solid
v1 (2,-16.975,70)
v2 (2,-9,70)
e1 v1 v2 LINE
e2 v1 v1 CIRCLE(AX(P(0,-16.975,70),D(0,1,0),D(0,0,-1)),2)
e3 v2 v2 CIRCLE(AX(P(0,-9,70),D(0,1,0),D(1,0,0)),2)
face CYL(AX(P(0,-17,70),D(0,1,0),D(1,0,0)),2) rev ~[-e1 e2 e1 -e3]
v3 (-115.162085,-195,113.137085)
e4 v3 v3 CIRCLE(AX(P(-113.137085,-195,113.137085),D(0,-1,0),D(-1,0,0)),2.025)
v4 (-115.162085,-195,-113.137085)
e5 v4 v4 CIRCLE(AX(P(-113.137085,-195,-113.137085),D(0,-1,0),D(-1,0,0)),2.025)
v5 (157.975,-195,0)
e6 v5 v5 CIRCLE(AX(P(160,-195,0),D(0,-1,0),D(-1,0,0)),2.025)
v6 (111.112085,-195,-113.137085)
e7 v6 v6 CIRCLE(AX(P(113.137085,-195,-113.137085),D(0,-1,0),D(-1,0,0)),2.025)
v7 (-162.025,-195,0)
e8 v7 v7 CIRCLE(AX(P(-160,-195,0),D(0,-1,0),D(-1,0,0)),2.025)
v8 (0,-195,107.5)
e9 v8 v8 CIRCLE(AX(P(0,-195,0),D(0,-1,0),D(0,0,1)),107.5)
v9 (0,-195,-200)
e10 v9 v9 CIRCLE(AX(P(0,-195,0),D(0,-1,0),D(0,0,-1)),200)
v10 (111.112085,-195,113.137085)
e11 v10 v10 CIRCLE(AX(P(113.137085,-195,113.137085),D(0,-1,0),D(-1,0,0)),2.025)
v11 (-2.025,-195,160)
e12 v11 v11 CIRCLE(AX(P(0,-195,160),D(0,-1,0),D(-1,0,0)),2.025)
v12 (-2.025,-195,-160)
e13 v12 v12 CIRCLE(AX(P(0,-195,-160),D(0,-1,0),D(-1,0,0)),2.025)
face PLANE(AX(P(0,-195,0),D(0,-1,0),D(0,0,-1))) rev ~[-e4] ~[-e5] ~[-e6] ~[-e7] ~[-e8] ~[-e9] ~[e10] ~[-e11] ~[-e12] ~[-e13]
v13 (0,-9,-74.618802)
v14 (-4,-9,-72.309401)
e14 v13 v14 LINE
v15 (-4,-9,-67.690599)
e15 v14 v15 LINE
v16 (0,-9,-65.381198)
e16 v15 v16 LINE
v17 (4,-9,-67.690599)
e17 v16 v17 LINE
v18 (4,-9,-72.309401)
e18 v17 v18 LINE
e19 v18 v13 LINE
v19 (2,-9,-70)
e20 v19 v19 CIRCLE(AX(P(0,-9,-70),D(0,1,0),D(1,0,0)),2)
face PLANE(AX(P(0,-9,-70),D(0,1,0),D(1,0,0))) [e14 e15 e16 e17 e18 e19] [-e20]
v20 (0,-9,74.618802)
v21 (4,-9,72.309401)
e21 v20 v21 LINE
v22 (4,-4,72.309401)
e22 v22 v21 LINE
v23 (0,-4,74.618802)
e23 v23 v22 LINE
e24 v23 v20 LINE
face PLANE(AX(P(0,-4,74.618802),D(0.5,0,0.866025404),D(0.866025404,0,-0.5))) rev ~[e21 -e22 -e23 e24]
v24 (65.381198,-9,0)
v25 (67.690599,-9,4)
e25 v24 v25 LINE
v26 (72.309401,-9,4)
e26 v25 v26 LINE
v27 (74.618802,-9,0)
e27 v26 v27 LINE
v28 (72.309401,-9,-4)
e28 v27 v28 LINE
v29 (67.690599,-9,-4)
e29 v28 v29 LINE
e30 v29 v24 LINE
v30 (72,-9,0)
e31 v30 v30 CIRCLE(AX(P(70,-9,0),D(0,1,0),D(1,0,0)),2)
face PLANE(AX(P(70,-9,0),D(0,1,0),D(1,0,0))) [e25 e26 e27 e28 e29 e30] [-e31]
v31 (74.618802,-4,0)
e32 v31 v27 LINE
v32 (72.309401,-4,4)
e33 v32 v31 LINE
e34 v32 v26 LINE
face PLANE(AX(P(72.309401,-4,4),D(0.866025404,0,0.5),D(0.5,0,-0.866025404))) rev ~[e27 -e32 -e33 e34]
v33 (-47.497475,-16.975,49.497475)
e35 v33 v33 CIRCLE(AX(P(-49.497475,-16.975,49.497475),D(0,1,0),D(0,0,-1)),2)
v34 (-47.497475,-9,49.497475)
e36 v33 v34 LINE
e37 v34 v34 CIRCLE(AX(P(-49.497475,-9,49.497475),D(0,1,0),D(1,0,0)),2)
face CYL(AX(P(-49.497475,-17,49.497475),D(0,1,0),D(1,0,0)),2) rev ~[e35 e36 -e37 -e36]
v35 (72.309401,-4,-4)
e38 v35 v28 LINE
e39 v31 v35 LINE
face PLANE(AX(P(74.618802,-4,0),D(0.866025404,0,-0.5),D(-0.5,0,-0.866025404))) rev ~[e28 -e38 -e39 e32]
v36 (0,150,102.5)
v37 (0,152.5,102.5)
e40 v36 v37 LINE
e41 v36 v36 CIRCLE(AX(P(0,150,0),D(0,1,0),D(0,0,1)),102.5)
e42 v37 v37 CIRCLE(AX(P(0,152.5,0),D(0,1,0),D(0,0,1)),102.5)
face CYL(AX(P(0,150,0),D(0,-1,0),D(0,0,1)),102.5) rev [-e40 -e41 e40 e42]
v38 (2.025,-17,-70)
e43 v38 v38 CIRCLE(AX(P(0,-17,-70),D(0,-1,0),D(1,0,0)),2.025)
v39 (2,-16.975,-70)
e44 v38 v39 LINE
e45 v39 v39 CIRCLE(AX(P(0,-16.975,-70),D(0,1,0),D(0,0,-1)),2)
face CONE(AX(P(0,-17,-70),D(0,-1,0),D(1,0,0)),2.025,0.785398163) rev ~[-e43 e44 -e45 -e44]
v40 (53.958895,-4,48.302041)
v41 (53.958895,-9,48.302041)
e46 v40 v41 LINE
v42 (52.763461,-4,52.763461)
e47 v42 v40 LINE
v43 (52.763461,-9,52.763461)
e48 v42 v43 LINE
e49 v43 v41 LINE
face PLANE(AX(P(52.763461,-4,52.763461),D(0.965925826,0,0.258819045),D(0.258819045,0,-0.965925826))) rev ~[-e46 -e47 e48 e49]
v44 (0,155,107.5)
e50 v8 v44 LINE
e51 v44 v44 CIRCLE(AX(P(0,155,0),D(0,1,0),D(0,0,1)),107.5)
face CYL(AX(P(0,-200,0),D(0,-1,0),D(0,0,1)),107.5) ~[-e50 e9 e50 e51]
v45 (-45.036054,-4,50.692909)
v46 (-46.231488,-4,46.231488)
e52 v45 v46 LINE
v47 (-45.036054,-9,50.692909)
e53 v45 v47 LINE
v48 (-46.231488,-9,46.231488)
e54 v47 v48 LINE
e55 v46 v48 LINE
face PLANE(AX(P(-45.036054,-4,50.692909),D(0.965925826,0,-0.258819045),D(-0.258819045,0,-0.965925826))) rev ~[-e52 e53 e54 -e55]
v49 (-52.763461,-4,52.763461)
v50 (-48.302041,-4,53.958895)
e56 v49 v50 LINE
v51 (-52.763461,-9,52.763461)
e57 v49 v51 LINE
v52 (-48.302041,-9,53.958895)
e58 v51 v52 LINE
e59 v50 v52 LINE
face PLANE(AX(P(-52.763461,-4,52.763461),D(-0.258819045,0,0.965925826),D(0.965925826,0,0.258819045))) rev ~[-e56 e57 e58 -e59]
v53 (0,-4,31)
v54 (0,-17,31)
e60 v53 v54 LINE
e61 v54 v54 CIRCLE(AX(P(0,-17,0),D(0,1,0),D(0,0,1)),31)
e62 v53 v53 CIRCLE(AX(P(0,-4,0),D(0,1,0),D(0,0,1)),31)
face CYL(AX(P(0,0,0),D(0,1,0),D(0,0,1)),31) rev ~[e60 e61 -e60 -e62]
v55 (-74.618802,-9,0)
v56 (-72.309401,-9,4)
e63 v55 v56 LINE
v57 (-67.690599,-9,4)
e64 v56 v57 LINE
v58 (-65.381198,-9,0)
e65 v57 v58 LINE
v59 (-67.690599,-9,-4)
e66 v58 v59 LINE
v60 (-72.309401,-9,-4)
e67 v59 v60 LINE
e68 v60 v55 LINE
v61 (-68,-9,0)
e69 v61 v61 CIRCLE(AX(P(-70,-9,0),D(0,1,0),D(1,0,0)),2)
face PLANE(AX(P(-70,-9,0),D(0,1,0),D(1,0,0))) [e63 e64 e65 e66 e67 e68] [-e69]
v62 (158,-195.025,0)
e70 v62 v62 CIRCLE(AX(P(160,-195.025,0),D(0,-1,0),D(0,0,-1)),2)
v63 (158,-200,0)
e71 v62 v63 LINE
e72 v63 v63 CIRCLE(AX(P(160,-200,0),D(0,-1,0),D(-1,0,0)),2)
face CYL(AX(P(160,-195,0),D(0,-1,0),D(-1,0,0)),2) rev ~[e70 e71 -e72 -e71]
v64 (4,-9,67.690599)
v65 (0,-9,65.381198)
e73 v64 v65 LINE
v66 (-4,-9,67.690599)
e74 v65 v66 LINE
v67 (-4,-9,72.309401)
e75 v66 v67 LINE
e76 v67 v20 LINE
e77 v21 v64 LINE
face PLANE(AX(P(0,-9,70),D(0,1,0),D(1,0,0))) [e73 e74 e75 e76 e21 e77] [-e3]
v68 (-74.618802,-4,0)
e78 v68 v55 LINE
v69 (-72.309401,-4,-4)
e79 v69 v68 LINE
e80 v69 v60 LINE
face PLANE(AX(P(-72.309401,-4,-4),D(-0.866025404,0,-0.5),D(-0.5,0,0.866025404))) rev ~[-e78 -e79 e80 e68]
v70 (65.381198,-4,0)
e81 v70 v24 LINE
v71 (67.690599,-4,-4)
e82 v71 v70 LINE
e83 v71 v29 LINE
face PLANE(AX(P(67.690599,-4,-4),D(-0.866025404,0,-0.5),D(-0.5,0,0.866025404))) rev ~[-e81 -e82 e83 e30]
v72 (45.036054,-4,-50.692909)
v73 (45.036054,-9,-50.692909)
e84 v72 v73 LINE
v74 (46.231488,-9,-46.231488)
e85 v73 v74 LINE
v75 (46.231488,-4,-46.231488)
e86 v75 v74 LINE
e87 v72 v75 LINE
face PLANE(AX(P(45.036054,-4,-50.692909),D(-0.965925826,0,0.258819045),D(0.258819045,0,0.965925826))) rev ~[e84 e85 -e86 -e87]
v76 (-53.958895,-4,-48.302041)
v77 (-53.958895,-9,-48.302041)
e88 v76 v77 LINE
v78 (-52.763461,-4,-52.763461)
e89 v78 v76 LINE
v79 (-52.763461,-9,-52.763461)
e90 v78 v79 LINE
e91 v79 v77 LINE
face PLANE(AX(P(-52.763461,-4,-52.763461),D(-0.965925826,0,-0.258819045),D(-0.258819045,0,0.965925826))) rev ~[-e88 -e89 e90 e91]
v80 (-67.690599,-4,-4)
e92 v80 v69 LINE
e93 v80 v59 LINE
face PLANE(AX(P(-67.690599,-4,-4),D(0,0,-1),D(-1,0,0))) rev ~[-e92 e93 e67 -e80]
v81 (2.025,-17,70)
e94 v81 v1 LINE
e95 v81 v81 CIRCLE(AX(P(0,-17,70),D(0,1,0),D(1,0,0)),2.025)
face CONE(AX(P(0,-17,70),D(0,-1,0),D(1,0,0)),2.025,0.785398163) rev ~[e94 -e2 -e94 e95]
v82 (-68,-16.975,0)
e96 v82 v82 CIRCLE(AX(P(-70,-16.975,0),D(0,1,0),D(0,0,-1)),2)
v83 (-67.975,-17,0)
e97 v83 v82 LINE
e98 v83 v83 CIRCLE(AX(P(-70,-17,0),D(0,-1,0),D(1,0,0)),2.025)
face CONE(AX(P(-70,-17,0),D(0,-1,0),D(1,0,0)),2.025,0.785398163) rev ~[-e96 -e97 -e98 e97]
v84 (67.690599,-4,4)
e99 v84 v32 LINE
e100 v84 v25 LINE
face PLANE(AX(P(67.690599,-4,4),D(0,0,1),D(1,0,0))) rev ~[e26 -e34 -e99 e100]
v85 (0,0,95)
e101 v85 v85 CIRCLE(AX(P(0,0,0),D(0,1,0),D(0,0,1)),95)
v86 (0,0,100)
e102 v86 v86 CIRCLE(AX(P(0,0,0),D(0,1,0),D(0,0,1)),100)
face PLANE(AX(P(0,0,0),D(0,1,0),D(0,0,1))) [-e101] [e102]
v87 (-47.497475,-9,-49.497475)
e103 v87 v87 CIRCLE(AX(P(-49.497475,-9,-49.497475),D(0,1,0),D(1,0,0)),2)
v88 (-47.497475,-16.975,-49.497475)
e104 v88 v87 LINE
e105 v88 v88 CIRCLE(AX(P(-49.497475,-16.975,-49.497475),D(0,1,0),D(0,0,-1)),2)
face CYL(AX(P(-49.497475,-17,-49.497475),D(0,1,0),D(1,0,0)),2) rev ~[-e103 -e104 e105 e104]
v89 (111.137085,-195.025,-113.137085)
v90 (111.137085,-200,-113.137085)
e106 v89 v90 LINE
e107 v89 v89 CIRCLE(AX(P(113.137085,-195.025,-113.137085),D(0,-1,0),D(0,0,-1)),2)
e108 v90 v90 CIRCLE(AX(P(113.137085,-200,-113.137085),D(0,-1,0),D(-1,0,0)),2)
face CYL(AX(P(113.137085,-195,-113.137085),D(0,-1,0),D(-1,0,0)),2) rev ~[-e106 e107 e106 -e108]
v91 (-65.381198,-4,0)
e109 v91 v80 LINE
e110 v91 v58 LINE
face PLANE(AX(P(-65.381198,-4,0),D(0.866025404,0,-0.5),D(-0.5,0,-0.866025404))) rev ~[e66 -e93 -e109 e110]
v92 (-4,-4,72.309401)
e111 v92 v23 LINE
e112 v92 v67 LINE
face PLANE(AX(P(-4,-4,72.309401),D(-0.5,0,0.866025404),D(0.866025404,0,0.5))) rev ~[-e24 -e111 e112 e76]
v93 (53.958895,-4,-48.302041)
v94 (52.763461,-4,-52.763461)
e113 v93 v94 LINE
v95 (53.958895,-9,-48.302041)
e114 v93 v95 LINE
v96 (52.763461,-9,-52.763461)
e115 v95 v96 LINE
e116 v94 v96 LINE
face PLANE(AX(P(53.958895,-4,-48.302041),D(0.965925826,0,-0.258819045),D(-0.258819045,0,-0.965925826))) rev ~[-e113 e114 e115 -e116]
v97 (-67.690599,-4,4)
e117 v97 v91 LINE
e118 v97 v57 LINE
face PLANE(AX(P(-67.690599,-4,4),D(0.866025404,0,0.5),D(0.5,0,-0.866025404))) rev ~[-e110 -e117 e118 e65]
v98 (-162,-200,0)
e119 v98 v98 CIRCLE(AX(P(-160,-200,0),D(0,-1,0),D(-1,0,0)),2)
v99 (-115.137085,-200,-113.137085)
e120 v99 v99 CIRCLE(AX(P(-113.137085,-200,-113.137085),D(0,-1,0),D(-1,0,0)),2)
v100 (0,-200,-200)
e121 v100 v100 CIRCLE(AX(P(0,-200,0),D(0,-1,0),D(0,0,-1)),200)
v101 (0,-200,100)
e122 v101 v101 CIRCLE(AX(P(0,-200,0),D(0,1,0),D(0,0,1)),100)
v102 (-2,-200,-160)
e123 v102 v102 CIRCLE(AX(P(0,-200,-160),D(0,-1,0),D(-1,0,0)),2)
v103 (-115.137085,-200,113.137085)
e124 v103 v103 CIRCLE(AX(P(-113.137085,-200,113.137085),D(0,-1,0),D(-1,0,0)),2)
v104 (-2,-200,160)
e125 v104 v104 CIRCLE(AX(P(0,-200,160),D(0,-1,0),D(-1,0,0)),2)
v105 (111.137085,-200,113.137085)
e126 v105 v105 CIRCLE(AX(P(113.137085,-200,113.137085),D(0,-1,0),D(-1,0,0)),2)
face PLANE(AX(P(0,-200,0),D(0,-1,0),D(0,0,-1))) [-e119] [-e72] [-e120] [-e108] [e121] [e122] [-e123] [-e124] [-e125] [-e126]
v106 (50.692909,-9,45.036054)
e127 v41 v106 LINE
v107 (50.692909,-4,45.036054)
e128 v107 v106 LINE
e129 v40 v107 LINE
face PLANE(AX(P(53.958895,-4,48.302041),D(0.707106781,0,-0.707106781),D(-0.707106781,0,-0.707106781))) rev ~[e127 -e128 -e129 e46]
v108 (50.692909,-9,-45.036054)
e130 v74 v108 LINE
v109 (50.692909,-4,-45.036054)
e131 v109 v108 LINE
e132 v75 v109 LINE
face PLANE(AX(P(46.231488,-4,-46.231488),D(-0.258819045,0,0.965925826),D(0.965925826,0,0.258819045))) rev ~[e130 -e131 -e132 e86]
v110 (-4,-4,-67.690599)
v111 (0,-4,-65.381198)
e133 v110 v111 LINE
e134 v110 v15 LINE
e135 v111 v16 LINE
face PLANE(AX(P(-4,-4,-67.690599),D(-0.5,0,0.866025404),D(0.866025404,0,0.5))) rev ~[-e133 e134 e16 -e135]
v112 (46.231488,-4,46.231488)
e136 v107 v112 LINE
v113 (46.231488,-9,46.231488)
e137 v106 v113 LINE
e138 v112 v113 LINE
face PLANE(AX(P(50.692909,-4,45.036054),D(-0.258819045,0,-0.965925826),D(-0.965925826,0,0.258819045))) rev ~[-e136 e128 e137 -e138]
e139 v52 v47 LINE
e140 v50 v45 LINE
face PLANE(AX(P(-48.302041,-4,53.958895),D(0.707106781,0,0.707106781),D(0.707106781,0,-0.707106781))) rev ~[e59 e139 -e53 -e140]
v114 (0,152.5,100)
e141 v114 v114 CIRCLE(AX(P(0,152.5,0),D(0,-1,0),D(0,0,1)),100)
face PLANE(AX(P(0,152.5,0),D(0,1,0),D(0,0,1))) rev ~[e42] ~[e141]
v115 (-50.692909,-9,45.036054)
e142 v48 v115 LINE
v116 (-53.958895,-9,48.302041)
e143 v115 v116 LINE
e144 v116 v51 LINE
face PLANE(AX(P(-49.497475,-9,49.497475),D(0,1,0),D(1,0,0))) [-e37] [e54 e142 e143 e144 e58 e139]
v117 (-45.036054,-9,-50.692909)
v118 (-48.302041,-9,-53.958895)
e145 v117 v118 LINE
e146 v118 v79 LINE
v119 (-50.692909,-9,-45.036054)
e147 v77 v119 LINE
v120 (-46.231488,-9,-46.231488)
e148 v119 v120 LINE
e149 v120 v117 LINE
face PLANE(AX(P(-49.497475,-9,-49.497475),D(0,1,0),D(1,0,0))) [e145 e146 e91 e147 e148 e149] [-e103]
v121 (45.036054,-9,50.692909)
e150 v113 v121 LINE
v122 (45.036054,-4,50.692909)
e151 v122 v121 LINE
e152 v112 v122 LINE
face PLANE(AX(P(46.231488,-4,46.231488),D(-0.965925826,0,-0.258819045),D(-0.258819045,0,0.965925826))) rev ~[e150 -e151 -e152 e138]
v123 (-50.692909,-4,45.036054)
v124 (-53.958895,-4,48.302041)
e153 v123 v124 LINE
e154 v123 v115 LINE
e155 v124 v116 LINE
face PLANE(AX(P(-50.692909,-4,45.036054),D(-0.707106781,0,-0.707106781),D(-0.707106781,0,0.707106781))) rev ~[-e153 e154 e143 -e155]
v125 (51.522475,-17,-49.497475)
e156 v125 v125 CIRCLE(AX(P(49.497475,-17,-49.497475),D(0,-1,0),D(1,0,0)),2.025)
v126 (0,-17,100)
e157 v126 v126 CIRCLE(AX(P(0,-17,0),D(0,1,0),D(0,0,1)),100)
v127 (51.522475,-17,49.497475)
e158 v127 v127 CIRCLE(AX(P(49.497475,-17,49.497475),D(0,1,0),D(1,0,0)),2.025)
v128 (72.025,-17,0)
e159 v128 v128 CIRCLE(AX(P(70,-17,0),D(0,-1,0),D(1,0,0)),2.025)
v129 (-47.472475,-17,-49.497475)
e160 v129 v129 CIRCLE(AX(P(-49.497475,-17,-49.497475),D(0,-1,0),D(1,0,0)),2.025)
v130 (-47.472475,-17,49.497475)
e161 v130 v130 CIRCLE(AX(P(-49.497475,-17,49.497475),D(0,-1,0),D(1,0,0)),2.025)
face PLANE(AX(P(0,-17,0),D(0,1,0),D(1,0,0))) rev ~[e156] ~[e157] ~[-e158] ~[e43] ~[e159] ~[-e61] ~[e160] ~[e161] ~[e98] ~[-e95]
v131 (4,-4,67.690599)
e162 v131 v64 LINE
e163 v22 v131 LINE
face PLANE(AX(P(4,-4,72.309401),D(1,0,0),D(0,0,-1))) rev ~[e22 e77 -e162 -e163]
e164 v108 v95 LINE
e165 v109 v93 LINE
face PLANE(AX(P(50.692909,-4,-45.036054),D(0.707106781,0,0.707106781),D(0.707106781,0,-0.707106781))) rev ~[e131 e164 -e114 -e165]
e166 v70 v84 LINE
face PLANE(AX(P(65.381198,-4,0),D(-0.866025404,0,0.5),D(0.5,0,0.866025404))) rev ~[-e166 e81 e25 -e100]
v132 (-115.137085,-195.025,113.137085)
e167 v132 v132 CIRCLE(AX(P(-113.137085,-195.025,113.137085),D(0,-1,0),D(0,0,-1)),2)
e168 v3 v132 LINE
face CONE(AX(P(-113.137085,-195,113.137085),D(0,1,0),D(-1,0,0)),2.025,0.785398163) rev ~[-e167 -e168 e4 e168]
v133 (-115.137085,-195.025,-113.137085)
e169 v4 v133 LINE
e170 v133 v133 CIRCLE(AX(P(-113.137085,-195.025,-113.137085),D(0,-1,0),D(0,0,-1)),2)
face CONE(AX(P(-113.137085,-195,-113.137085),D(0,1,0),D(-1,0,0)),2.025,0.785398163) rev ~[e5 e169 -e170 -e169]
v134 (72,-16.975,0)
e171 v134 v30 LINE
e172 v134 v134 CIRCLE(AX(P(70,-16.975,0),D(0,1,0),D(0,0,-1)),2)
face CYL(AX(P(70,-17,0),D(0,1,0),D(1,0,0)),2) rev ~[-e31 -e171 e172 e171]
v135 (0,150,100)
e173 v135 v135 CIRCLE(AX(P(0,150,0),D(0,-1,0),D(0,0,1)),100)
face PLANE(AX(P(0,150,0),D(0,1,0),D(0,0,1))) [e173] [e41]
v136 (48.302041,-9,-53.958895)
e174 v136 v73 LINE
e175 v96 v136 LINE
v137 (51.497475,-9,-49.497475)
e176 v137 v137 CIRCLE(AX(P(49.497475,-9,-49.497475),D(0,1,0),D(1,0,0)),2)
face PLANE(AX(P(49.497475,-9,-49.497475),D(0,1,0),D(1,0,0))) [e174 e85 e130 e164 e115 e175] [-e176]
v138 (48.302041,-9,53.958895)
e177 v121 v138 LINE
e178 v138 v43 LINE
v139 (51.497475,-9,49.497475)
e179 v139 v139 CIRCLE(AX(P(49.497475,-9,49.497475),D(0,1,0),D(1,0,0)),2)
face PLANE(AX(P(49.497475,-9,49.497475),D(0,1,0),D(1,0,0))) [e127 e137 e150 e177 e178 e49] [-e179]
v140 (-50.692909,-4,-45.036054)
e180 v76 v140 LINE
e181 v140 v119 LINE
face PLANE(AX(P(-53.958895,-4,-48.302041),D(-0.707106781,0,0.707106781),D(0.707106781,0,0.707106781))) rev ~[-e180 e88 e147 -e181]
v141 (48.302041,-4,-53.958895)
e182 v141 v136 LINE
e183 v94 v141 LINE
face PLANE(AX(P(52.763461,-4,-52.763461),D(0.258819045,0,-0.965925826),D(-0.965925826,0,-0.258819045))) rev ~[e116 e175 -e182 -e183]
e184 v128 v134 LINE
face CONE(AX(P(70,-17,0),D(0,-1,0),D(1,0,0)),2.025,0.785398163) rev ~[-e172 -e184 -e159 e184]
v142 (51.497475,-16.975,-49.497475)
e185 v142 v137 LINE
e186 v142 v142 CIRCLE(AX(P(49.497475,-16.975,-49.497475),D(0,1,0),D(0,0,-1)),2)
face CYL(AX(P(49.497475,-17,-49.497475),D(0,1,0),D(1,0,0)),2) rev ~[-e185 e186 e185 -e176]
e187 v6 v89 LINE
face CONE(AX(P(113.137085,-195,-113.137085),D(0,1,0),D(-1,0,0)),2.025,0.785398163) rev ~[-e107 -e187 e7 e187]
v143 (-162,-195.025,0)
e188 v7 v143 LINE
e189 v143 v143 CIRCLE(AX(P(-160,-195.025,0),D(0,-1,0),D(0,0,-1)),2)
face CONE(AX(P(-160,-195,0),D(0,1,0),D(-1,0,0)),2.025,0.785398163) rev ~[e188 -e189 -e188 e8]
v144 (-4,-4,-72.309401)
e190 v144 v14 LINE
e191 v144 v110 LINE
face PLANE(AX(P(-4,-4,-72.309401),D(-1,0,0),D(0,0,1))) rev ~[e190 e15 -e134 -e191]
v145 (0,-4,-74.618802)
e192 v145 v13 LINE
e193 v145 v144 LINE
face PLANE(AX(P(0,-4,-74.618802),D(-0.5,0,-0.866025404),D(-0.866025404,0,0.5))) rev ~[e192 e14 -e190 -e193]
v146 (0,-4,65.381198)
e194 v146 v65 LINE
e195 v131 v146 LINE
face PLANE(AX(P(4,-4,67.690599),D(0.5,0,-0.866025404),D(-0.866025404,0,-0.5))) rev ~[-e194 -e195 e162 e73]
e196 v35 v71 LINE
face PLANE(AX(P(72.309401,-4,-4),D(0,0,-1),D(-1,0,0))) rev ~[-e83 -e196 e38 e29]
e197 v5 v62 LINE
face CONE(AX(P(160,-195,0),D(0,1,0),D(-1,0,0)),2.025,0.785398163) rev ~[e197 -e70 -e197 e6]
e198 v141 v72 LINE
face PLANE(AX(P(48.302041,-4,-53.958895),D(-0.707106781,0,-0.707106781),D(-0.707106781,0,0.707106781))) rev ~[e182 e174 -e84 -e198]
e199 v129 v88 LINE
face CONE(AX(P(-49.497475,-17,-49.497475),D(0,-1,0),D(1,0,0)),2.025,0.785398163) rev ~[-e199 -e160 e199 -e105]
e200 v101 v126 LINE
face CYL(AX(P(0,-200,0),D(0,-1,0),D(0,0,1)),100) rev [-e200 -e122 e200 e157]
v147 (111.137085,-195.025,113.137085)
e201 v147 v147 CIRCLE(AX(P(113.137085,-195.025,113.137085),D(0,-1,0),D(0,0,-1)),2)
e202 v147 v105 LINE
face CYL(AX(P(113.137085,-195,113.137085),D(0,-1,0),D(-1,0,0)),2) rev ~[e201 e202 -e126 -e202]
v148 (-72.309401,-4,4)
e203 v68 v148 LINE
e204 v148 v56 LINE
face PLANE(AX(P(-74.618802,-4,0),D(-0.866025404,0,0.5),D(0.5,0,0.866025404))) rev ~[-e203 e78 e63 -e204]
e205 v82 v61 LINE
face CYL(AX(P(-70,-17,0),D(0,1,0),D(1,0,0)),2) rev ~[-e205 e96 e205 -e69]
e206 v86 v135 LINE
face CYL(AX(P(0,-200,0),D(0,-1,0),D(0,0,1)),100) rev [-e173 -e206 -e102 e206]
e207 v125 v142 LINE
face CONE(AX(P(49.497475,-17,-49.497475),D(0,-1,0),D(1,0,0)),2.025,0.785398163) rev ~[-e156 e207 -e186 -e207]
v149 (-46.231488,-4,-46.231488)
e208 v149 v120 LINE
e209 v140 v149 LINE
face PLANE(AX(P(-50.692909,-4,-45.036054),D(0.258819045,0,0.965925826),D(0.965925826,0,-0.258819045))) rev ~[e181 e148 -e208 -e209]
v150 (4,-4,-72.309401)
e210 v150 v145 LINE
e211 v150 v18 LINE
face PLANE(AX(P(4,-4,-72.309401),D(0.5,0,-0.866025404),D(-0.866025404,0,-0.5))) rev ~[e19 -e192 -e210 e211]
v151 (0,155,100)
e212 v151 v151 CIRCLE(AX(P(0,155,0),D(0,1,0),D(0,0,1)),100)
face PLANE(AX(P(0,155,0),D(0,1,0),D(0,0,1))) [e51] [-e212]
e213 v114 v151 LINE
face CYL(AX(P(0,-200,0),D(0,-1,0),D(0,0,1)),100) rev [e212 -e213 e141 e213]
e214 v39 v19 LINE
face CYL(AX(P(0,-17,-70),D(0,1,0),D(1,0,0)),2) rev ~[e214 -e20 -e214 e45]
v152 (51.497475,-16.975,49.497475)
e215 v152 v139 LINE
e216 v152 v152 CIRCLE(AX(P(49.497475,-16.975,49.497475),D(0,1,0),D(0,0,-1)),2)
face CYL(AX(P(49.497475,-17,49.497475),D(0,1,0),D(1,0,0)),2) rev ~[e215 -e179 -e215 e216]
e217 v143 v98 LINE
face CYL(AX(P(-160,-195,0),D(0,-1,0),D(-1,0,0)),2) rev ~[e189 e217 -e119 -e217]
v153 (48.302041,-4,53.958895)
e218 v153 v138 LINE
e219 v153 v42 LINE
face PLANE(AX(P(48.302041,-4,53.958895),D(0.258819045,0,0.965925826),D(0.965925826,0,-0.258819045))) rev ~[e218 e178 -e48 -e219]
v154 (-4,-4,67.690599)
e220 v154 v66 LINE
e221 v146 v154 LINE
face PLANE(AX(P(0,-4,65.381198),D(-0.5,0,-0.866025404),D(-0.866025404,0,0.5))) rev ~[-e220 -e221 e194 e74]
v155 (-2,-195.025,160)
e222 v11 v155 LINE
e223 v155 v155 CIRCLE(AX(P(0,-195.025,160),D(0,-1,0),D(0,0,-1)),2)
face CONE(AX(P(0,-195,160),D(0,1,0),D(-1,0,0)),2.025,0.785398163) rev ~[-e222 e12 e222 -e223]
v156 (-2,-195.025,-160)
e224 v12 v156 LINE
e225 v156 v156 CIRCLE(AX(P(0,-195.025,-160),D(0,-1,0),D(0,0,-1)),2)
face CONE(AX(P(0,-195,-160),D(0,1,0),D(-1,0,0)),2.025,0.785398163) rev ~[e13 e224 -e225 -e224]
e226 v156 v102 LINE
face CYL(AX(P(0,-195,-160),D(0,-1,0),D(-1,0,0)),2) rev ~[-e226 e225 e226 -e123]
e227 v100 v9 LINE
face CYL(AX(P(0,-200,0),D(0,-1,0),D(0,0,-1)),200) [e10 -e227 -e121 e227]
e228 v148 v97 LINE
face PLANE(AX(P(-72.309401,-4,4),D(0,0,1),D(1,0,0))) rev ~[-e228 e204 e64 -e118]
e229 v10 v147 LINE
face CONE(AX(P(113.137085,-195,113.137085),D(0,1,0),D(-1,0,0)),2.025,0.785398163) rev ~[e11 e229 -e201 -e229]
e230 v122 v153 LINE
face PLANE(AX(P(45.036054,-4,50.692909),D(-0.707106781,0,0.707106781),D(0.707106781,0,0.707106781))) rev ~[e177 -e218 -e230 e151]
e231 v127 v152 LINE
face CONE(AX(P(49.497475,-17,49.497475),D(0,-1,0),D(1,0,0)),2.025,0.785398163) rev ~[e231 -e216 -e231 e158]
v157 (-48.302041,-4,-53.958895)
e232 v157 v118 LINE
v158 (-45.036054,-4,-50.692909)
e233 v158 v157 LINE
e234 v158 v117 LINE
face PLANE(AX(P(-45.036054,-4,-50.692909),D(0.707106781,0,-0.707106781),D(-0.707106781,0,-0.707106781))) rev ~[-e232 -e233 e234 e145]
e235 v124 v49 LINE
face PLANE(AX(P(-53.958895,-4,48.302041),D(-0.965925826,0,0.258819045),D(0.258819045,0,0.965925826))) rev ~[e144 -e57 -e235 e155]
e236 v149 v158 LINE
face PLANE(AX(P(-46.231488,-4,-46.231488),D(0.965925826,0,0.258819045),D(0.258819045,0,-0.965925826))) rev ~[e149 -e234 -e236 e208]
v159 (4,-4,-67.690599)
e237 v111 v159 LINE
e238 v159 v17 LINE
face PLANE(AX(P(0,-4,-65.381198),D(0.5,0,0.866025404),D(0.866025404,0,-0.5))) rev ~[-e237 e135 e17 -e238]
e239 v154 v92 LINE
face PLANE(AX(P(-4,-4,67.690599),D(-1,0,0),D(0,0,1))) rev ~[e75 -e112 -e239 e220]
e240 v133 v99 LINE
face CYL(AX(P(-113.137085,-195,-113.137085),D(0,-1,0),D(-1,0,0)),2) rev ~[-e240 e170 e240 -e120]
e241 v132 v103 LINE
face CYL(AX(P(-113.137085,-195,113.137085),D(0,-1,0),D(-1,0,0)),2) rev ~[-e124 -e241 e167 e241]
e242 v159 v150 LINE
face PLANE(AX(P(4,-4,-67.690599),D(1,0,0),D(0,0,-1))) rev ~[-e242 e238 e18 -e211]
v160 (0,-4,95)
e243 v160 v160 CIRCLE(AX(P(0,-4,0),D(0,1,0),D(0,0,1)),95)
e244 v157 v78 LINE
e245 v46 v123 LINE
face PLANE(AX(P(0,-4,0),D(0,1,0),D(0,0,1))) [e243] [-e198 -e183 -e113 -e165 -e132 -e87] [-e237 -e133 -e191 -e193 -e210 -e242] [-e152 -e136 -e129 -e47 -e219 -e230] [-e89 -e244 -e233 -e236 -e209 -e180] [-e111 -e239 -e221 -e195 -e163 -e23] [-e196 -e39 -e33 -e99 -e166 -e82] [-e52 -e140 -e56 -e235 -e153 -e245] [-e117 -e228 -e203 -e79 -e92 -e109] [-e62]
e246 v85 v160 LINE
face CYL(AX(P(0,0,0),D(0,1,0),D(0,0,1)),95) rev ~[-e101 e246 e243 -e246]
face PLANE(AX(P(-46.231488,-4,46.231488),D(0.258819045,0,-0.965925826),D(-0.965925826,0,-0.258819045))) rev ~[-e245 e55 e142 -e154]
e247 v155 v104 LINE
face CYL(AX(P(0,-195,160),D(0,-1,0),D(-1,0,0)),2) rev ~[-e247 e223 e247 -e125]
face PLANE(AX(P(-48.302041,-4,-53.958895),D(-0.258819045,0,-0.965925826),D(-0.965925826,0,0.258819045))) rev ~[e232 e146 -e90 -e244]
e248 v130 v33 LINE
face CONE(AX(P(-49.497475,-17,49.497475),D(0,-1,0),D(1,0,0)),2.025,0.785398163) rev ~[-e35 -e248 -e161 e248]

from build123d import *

# Parameters (mm, degrees)
BOSS_EXTRUDE1_DEPTH             = 155
BOSS_EXTRUDE1_DEPTH_BACK        = 200
SKETCH1_R                       = 107.5
SKETCH1_R_2                     = 100
SKETCH1_3_R                     = 100
SKETCH1_3_R_2                   = 95
SKETCH1_3_R_3                   = 31
BOSS_EXTRUDE2_DEPTH             = 17
SKETCH1_5_R                     = 95
SKETCH1_5_R_2                   = 31
CUT_EXTRUDE1_DEPTH              = 4
F_4_0MM_DOWEL_HOLE1_D           = 4
F_4_0MM_DOWEL_HOLE1_CSINK_D     = 4.05
F_4_0MM_DOWEL_HOLE1_CSINK_ANGLE = 90
CUT_EXTRUDE2_DEPTH              = 5
SKETCH8_R                       = 200
SKETCH8_R_2                     = 100
BOSS_EXTRUDE3_DEPTH             = 5
F_4_0MM_DOWEL_HOLE2_D           = 4
F_4_0MM_DOWEL_HOLE2_CSINK_D     = 4.05
F_4_0MM_DOWEL_HOLE2_CSINK_ANGLE = 90
SKETCH12_R                      = 102.5
CUT_EXTRUDE3_DEPTH              = 2.5


with BuildPart() as part:
    # Sketch1 → Boss-Extrude1 (new, two sides: drawn at the far end of the back side and taken through both)
    with BuildSketch(Plane(origin=(0, 0, 0), x_dir=(1, 0, 0), z_dir=(0, 1, 0)).offset(-BOSS_EXTRUDE1_DEPTH_BACK)):
        with Locations(Location((0, 0, 0), (0, 0, 270))):
            Circle(SKETCH1_R)
        with Locations(Location((0, 0, 0), (0, 0, 270))):
            Circle(SKETCH1_R_2, mode=Mode.SUBTRACT)
    extrude(amount=BOSS_EXTRUDE1_DEPTH + BOSS_EXTRUDE1_DEPTH_BACK)

    # Sketch1<3> → Boss-Extrude2 (add)
    # profile 1 of 2: a face of its own
    with BuildSketch(Plane(origin=(0, 0, 0), x_dir=(1, 0, 0), z_dir=(0, 1, 0))):
        with Locations(Location((0, 0, 0), (0, 0, 270))):
            Circle(SKETCH1_3_R)
        Circle(SKETCH1_3_R_2, mode=Mode.SUBTRACT)
    # profile 2 of 2: a face of its own
    with BuildSketch(Plane(origin=(0, 0, 0), x_dir=(1, 0, 0), z_dir=(0, 1, 0))):
        Circle(SKETCH1_3_R_2)
        with Locations(Location((0, 0, 0), (0, 0, 270))):
            Circle(SKETCH1_3_R_3, mode=Mode.SUBTRACT)
    extrude(amount=-BOSS_EXTRUDE2_DEPTH)

    # Sketch1<5> → Cut-Extrude1 (cut)
    with BuildSketch(Plane(origin=(0, 0, 0), x_dir=(1, 0, 0), z_dir=(0, 1, 0))):
        with Locations(Location((0, 0, 0), (0, 0, 270))):
            Circle(SKETCH1_5_R)
        with Locations(Location((0, 0, 0), (0, 0, 270))):
            Circle(SKETCH1_5_R_2, mode=Mode.SUBTRACT)
    extrude(amount=-CUT_EXTRUDE1_DEPTH, mode=Mode.SUBTRACT)

    # Ø4.0mm Dowel Hole1 (through all)
    with Locations(Plane(origin=(0, -17, 0), x_dir=(-1, 0, 0), z_dir=(0, -1, 0))):
        with Locations((0, 70), (49.497474683, 49.497474683), (-49.497474683, 49.497474683), (-70, 0), (-49.497474683, -49.497474683), (0, -70), (49.497474683, -49.497474683), (70, 0)):
            CounterSinkHole(F_4_0MM_DOWEL_HOLE1_D / 2, F_4_0MM_DOWEL_HOLE1_CSINK_D / 2, counter_sink_angle=F_4_0MM_DOWEL_HOLE1_CSINK_ANGLE)

    # Sketch5 → Cut-Extrude2 (cut)
    with BuildSketch(Plane(origin=(0, -4, 0), x_dir=(1, 0, 0), z_dir=(0, 1, 0))):
        Polygon((46.231488359, 46.231488359), (50.692908646, 45.036054396), (53.95889497, 48.30204072), (52.763461007, 52.763461007), (48.30204072, 53.95889497), (45.036054396, 50.692908646), align=None)
        Polygon((0, 65.381197846), (4, 67.690598923), (4, 72.309401077), (0, 74.618802154), (-4, 72.309401077), (-4, 67.690598923), align=None)
        Polygon((65.381197846, 0), (67.690598923, -4), (72.309401077, -4), (74.618802154, 0), (72.309401077, 4), (67.690598923, 4), align=None)
        Polygon((46.231488359, -46.231488359), (45.036054396, -50.692908646), (48.30204072, -53.95889497), (52.763461007, -52.763461007), (53.95889497, -48.30204072), (50.692908646, -45.036054396), align=None)
        Polygon((0, -65.381197846), (-4, -67.690598923), (-4, -72.309401077), (0, -74.618802154), (4, -72.309401077), (4, -67.690598923), align=None)
        Polygon((-46.231488359, -46.231488359), (-50.692908646, -45.036054396), (-53.95889497, -48.30204072), (-52.763461007, -52.763461007), (-48.30204072, -53.95889497), (-45.036054396, -50.692908646), align=None)
        Polygon((-65.381197846, 0), (-67.690598923, 4), (-72.309401077, 4), (-74.618802154, 0), (-72.309401077, -4), (-67.690598923, -4), align=None)
        Polygon((-46.231488359, 46.231488359), (-45.036054396, 50.692908646), (-48.30204072, 53.95889497), (-52.763461007, 52.763461007), (-53.95889497, 48.30204072), (-50.692908646, 45.036054396), align=None)
    extrude(amount=-CUT_EXTRUDE2_DEPTH, mode=Mode.SUBTRACT)

    # Sketch8 → Boss-Extrude3 (add)
    with BuildSketch(Plane(origin=(0, -200, 0), x_dir=(-1, 0, 0), z_dir=(0, -1, 0))):
        with Locations(Location((0, 0, 0), (0, 0, 90))):
            Circle(SKETCH8_R)
        with Locations(Location((0, 0, 0), (0, 0, 270))):
            Circle(SKETCH8_R_2, mode=Mode.SUBTRACT)
    extrude(amount=-BOSS_EXTRUDE3_DEPTH)

    # Ø4.0mm Dowel Hole2 (through all)
    with Locations(Plane(origin=(0, -195, 0), x_dir=(1, 0, 0), z_dir=(0, 1, 0))):
        with Locations((160, 0), (113.13708499, 113.13708499), (0, 160), (-113.13708499, 113.13708499), (-160, 0), (-113.13708499, -113.13708499), (113.13708499, -113.13708499), (0, -160)):
            CounterSinkHole(F_4_0MM_DOWEL_HOLE2_D / 2, F_4_0MM_DOWEL_HOLE2_CSINK_D / 2, counter_sink_angle=F_4_0MM_DOWEL_HOLE2_CSINK_ANGLE)

    # Sketch12 → Cut-Extrude3 (cut)
    with BuildSketch(Plane(origin=(0, 150, 0), x_dir=(1, 0, 0), z_dir=(0, 1, 0))):
        with Locations(Location((0, 0, 0), (0, 0, 270))):
            Circle(SKETCH12_R)
    extrude(amount=CUT_EXTRUDE3_DEPTH, mode=Mode.SUBTRACT)


solid = part.part
